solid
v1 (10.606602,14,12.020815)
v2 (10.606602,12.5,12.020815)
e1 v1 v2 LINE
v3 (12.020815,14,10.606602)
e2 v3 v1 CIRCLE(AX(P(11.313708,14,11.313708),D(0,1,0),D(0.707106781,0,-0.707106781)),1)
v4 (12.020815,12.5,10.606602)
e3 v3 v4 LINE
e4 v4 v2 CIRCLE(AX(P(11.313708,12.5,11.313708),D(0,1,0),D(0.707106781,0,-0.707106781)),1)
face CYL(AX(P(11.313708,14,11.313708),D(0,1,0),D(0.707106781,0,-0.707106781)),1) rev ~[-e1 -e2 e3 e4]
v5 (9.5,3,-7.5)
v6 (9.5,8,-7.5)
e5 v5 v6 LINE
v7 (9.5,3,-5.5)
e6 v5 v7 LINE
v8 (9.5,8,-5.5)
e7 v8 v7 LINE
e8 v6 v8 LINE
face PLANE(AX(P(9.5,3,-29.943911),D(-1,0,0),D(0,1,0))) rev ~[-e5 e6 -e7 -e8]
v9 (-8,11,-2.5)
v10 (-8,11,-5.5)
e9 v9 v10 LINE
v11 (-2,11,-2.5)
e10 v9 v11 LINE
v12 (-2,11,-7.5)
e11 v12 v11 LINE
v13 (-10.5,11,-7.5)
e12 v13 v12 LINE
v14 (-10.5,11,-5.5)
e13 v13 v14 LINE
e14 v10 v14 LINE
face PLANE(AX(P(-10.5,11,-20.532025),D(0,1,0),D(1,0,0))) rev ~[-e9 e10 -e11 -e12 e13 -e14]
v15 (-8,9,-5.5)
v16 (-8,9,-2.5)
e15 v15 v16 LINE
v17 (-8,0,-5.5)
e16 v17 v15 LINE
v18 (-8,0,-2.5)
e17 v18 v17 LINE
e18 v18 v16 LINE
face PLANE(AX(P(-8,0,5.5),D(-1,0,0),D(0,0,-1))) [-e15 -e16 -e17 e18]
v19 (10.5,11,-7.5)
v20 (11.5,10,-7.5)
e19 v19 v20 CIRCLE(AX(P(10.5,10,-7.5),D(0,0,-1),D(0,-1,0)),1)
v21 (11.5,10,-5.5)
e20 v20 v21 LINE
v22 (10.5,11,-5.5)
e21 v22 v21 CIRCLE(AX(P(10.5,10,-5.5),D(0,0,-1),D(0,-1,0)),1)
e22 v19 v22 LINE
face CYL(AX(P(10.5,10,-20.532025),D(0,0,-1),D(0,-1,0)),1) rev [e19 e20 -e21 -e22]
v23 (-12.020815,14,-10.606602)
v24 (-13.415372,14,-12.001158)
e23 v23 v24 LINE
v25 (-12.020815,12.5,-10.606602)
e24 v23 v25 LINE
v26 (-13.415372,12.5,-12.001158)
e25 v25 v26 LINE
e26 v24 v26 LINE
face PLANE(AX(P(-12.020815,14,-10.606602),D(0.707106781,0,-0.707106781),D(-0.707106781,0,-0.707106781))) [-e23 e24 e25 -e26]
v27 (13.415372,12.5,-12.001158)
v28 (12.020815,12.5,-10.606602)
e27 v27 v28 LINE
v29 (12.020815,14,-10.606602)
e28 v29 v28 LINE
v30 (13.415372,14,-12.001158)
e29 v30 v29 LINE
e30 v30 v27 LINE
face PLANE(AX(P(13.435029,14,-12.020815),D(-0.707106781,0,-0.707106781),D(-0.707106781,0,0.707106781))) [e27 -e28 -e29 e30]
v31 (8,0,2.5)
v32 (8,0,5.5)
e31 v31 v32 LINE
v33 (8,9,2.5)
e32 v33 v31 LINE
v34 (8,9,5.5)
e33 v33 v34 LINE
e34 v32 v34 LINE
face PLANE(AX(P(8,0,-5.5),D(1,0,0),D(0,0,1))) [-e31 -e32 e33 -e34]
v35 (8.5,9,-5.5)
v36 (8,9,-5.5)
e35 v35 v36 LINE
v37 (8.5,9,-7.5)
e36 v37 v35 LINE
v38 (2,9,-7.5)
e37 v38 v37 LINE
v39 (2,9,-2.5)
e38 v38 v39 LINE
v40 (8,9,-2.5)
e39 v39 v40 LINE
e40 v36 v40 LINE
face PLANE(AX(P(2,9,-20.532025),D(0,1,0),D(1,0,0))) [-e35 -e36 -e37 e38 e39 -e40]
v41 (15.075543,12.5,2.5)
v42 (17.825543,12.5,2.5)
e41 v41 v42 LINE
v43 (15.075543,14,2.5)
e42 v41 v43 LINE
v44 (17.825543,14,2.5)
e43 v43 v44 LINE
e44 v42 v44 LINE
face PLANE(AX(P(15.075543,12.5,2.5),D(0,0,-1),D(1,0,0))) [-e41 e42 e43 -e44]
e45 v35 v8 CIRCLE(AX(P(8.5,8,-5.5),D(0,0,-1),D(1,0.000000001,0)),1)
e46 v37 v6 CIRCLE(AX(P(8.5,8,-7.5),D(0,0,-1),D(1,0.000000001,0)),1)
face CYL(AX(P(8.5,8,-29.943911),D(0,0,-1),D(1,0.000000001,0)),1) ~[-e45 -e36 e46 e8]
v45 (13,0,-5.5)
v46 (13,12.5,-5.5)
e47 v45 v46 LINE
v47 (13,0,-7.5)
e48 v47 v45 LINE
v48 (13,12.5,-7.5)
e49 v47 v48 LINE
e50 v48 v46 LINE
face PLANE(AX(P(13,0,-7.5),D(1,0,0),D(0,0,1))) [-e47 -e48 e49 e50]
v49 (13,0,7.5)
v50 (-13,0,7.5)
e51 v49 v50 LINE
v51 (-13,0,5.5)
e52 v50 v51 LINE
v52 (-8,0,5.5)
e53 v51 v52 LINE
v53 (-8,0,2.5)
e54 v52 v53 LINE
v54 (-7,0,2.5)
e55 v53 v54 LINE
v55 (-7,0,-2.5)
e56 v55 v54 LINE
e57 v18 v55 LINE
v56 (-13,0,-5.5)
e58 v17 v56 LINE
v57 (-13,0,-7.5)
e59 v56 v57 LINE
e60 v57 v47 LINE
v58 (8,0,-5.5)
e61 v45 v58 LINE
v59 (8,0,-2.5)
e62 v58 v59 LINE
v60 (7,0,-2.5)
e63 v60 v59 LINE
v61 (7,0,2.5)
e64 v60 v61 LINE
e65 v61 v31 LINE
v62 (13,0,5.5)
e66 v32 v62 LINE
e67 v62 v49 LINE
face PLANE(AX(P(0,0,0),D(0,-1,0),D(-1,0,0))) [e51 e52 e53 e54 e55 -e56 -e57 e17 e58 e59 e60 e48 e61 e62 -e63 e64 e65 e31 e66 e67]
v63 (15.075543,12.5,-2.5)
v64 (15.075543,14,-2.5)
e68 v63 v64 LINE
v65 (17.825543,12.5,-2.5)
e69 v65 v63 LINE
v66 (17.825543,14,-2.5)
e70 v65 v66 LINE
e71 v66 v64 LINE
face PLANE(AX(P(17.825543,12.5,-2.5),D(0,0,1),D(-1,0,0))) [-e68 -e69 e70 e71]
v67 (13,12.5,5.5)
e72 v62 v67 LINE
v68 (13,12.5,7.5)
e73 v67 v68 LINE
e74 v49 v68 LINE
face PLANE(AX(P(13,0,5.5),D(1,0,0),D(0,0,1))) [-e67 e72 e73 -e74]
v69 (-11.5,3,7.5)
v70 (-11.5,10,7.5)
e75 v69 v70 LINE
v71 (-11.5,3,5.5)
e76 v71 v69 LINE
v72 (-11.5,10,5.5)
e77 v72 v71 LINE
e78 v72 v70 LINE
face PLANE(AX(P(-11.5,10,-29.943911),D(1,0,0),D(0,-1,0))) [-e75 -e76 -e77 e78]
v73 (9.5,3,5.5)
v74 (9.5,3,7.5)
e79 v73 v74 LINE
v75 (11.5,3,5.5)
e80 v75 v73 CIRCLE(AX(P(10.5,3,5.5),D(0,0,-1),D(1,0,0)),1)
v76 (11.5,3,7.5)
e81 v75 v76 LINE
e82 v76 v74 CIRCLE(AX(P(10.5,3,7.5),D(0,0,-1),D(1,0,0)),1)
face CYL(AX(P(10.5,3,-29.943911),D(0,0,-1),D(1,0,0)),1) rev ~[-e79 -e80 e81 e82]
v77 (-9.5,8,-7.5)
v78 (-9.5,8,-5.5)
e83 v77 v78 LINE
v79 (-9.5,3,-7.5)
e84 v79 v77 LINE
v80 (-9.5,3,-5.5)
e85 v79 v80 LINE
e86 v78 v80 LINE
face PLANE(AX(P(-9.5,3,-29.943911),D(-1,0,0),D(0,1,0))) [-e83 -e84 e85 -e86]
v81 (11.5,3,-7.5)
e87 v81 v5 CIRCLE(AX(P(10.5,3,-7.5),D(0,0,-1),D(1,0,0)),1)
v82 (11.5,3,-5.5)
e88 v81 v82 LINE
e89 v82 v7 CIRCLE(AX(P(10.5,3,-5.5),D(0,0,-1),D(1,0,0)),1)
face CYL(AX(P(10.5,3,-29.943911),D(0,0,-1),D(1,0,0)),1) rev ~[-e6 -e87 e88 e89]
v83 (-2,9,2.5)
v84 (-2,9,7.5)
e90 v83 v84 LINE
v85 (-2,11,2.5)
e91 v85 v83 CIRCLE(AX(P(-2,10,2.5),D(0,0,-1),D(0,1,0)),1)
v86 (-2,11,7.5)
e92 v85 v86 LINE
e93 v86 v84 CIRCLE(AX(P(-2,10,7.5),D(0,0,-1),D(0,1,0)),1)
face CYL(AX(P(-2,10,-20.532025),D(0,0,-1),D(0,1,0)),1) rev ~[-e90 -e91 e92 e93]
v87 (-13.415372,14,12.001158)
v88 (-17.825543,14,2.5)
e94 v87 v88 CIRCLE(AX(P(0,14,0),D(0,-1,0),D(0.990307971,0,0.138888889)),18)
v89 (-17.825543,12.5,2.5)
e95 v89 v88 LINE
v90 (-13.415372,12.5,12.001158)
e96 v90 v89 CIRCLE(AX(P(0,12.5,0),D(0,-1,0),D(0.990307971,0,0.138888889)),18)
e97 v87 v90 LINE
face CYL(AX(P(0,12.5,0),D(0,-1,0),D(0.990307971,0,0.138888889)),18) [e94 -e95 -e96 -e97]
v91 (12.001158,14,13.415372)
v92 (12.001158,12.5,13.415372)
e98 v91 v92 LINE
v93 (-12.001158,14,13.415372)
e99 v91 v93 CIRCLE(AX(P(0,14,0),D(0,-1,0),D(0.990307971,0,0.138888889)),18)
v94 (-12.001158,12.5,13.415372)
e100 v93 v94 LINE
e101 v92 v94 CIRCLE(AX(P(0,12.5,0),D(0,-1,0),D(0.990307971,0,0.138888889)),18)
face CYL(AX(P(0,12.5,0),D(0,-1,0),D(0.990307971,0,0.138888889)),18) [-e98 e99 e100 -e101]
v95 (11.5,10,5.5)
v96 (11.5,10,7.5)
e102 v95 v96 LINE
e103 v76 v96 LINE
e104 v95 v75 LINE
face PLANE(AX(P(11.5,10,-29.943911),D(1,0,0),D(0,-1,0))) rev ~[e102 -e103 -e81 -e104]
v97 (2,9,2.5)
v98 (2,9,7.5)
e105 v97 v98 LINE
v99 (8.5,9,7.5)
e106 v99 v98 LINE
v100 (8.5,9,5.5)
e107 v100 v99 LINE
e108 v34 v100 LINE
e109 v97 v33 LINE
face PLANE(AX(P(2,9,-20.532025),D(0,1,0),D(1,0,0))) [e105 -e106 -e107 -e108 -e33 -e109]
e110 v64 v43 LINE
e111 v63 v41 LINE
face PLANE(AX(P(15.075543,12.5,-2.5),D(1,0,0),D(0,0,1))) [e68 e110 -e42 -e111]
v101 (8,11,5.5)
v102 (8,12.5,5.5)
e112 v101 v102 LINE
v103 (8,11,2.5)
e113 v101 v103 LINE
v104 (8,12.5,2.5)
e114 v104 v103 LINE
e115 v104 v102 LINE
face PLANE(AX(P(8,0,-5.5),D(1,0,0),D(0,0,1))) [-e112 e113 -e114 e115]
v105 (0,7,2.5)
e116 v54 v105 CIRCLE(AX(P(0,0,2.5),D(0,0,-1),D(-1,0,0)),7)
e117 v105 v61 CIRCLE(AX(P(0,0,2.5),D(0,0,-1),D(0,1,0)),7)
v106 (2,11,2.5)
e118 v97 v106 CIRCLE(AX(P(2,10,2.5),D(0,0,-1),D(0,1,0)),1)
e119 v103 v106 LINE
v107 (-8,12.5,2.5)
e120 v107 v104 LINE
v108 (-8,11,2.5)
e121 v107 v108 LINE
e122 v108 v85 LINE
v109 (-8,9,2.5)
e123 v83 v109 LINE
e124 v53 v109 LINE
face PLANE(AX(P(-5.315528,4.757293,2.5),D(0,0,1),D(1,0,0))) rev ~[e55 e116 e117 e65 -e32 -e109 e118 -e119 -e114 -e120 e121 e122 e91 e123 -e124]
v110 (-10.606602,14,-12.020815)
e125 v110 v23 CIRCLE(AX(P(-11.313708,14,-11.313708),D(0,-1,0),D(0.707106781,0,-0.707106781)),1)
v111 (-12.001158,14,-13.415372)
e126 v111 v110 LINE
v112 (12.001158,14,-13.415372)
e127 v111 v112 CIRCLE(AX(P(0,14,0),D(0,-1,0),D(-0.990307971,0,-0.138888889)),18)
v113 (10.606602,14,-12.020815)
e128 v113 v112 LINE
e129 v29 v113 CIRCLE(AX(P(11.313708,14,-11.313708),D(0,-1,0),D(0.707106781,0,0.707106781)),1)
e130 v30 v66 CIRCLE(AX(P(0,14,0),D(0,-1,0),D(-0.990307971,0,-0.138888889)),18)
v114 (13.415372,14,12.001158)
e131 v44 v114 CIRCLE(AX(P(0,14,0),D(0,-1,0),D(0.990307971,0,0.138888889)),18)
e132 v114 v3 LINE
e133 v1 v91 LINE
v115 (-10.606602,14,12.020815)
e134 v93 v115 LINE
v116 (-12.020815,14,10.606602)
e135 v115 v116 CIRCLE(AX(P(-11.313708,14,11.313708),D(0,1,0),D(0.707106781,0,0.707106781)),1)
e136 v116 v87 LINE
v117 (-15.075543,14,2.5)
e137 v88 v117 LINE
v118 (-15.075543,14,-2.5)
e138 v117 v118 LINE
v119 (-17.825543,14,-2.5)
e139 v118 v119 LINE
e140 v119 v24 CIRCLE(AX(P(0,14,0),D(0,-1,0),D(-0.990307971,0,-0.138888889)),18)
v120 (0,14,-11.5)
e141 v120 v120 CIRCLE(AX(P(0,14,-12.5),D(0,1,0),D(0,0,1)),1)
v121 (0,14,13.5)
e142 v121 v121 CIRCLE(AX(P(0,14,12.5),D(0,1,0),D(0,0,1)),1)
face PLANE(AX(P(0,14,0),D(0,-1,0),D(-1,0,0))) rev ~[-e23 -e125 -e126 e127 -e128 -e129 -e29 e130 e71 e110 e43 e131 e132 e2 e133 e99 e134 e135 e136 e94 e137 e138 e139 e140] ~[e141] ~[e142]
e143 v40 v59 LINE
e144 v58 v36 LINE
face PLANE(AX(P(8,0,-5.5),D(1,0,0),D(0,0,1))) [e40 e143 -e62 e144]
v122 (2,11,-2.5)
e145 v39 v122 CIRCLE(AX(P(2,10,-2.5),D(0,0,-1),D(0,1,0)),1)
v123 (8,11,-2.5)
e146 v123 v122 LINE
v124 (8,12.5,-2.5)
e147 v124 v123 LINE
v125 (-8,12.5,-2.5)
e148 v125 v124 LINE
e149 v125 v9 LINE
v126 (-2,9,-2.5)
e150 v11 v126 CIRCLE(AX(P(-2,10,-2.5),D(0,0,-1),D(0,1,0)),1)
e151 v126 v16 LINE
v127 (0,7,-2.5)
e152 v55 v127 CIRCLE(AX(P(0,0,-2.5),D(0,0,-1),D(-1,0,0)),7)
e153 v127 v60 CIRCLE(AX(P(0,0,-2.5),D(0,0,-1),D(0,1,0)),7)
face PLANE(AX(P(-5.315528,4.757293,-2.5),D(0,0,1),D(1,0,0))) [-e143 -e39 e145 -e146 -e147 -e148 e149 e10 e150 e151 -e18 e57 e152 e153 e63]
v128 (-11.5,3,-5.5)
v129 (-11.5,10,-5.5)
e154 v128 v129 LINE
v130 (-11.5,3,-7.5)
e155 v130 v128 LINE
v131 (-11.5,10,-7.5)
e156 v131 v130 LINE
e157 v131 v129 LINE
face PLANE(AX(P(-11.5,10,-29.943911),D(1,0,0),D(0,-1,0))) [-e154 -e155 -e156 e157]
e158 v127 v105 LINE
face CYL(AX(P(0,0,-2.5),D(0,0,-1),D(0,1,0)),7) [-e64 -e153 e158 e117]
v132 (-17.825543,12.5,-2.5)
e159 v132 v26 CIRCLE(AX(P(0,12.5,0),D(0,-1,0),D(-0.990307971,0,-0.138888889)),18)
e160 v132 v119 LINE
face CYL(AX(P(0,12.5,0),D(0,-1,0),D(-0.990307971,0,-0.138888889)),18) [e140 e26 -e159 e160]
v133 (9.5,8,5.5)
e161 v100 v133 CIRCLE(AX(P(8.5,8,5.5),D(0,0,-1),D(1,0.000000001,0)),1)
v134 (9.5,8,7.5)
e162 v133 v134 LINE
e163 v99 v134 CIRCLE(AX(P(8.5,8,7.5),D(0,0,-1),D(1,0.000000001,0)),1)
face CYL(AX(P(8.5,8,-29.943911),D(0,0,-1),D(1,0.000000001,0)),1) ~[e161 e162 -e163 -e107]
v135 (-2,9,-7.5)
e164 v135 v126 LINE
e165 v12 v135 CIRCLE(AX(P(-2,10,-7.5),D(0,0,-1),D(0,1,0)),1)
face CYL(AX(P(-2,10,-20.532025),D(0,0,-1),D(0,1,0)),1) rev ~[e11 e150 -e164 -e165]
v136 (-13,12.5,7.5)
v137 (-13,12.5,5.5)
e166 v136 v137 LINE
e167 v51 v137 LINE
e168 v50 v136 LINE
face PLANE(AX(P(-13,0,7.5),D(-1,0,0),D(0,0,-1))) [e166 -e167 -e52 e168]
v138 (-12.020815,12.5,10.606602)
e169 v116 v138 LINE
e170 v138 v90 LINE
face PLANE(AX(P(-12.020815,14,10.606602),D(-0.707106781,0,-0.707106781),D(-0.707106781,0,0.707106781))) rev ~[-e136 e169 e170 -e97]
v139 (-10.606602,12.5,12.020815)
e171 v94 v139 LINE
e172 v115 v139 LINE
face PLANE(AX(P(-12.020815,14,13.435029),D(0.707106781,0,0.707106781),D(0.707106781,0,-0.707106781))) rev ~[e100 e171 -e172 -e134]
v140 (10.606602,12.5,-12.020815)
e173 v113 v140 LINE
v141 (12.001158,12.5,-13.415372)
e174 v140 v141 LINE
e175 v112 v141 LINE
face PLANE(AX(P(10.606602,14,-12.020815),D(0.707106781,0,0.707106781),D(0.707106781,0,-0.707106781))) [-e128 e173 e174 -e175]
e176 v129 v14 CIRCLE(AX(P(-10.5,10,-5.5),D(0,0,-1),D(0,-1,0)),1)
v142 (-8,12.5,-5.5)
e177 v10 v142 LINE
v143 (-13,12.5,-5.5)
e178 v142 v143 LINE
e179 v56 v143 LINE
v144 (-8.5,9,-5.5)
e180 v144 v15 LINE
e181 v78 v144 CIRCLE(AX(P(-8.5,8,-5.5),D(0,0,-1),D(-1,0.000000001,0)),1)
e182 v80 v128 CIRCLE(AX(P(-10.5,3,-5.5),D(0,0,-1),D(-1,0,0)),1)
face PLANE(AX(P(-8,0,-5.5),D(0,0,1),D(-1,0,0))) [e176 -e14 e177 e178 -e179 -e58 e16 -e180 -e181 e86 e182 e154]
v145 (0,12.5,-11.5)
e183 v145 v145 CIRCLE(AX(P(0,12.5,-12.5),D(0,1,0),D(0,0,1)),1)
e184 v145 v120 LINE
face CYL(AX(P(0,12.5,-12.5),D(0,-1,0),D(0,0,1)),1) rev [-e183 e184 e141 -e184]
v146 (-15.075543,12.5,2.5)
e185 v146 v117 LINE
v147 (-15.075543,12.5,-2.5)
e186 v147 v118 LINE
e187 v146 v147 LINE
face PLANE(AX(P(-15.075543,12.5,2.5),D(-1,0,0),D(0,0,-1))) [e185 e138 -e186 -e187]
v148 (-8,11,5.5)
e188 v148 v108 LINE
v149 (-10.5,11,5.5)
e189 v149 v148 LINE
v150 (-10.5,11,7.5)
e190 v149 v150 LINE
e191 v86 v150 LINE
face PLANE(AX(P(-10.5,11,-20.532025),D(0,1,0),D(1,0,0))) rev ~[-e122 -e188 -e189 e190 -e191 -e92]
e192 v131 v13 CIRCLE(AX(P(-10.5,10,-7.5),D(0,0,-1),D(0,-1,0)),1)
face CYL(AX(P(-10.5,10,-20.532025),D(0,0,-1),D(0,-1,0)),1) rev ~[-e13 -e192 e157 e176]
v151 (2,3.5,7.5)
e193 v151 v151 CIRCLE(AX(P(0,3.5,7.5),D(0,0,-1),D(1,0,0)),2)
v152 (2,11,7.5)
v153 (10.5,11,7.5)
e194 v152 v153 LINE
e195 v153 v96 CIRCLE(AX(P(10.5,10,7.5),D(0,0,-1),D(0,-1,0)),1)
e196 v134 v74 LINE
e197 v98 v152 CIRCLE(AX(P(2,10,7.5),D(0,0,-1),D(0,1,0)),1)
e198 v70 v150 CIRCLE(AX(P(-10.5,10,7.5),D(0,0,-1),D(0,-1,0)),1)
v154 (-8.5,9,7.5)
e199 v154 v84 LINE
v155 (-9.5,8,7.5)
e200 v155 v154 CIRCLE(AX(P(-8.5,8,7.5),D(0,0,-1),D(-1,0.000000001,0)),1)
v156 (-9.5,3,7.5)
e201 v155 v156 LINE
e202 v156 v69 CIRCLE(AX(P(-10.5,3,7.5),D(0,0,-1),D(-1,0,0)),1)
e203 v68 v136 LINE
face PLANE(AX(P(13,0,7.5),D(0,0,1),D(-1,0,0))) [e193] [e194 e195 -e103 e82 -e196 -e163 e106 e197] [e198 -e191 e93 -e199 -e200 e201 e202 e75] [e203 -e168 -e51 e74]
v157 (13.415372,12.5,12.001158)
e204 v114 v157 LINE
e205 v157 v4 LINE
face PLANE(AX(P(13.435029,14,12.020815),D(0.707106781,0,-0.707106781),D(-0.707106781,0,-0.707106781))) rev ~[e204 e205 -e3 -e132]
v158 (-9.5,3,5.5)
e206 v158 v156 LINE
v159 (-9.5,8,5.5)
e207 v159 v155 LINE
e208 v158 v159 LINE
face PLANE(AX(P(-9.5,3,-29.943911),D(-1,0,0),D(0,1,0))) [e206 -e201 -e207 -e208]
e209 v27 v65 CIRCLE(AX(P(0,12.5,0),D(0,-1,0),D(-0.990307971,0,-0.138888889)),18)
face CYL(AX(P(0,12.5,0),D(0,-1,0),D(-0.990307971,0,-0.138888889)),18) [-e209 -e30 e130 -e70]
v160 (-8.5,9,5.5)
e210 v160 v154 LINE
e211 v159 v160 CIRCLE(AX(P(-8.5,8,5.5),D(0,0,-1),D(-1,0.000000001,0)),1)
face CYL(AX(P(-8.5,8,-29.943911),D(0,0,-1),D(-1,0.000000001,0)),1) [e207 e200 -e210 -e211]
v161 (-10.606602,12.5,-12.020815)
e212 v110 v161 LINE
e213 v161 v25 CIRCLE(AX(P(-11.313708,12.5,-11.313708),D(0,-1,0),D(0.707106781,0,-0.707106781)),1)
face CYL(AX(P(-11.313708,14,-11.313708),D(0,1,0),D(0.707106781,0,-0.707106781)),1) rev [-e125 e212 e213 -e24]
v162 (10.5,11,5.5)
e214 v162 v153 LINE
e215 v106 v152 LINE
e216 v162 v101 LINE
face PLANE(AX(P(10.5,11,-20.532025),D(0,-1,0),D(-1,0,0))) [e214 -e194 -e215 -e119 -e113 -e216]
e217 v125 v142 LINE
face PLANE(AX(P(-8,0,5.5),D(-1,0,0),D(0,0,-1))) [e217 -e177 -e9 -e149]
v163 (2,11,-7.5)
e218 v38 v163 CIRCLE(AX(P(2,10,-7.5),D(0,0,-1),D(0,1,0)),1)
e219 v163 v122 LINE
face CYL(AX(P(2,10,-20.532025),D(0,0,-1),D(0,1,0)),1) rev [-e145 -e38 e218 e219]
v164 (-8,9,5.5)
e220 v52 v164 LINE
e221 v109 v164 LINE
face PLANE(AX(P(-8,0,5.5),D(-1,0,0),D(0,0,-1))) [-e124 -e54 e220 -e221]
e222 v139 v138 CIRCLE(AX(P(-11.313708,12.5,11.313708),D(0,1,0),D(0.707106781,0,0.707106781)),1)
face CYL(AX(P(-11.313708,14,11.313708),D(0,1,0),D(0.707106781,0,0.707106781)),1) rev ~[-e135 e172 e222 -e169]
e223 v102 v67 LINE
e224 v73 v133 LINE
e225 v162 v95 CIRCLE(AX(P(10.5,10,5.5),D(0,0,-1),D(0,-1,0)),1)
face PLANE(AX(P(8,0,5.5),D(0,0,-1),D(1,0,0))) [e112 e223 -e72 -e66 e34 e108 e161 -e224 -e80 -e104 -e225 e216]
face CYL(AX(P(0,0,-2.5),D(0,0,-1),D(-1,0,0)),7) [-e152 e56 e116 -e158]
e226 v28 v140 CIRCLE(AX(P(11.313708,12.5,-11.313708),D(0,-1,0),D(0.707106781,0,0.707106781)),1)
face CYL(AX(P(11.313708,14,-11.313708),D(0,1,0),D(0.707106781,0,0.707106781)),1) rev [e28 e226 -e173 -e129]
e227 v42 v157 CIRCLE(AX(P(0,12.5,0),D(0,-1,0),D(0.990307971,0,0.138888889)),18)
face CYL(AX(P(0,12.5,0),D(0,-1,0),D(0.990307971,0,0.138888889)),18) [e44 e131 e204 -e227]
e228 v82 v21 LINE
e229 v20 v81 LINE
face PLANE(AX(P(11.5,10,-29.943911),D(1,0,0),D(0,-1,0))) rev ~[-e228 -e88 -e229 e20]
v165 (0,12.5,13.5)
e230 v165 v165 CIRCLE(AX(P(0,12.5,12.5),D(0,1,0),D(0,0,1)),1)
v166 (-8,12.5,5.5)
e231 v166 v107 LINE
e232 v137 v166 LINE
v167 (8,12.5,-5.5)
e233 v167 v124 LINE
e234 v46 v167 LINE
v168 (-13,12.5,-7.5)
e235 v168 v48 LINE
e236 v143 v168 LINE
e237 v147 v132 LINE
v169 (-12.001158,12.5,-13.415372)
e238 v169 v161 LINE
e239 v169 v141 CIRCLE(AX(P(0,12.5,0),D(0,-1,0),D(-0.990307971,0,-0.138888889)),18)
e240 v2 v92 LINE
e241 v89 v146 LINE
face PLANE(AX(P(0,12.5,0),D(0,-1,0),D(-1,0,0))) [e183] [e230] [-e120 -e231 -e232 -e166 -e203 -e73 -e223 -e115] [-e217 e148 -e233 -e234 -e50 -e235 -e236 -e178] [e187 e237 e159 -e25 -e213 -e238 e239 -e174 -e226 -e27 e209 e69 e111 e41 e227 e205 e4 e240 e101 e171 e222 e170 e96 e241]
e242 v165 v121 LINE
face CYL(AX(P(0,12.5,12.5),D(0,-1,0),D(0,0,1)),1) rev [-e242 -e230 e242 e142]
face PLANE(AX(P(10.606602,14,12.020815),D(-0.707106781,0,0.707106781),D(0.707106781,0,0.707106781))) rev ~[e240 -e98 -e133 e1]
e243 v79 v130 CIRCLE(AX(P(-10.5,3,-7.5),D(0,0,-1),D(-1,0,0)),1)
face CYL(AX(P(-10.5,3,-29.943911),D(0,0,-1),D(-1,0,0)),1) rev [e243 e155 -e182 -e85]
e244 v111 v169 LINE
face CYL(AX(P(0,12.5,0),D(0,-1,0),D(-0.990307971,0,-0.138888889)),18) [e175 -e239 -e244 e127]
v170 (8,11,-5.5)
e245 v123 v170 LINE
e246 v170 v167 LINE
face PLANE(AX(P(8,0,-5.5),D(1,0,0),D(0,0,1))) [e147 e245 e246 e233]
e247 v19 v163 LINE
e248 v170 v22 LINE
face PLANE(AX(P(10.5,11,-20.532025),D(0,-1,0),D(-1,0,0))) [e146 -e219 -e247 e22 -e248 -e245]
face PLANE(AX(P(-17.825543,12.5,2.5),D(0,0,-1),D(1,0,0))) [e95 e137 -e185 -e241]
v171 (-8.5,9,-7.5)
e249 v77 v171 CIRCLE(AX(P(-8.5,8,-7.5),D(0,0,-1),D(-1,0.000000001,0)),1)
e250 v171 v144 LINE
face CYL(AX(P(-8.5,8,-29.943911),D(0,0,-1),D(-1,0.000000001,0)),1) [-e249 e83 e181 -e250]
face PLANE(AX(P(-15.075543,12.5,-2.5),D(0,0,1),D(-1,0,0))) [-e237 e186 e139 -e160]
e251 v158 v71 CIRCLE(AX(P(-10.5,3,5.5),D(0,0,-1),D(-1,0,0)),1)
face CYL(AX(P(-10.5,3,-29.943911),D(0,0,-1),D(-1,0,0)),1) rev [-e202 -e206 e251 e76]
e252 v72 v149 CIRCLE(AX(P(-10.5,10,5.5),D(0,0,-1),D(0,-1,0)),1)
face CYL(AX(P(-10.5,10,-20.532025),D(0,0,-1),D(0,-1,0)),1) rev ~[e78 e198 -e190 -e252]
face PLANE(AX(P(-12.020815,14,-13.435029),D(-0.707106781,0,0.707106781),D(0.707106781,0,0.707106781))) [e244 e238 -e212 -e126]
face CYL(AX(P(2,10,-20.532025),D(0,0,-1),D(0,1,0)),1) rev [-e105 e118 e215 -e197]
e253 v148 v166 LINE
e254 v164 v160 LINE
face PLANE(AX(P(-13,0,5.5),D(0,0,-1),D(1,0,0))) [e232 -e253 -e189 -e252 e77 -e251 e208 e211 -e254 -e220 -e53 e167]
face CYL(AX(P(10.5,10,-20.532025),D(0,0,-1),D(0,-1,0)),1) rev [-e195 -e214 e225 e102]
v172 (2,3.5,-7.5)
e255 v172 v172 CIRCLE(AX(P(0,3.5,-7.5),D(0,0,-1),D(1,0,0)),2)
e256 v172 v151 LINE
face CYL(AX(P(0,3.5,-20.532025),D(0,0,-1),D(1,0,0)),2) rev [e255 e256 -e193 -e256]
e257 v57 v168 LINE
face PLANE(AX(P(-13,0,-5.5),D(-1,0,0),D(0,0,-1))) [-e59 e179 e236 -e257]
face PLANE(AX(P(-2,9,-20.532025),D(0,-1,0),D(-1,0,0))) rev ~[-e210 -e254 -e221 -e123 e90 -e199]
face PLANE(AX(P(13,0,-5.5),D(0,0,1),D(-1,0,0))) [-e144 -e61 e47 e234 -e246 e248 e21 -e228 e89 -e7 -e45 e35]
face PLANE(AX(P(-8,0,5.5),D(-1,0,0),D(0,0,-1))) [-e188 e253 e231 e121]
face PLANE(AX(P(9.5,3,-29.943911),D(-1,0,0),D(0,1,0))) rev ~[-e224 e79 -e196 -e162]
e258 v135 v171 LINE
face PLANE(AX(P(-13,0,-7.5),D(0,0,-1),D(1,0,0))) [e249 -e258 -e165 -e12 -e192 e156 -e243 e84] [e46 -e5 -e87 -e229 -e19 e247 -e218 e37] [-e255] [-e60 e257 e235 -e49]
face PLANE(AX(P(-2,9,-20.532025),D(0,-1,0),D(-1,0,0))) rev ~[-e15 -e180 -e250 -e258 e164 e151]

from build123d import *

# Parameters (mm, degrees)
EXTRUDE_1_DEPTH           = 12.5
CUT_EXTRUDE_1_DEPTH       = 20.532024985
CUT_EXTRUDE_1_DEPTH_BACK  = 20.532024985
SKETCH_2_R                = 2
CUT_EXTRUDE_2_DEPTH       = 20.532024985
CUT_EXTRUDE_2_DEPTH_BACK  = 20.532024985
CUT_EXTRUDE_START         = 12.5
SKETCH_5_W                = 16
SKETCH_5_H                = 5
CUT_EXTRUDE_4_DEPTH       = 5.5
CUT_EXTRUDE_5_DEPTH       = 2.5
CUT_EXTRUDE_5_DEPTH_BACK  = 2.5
EXTRUDE_START             = 12.5
EXTRUDE_5_DEPTH           = 1.5
SKETCH_8_R                = 1
CUT_EXTRUDE_6_DEPTH       = 1.5
CUT_EXTRUDE_START_2       = 14
CUT_EXTRUDE_7_DEPTH       = 1.5
CUT_EXTRUDE_9_DEPTH       = 29.943911277
CUT_EXTRUDE_9_DEPTH_BACK  = 29.943911277
CUT_EXTRUDE_10_DEPTH      = 29.943911277
CUT_EXTRUDE_10_DEPTH_BACK = 29.943911277


with BuildPart() as part:
    # 草图1 → 凸台-拉伸1 (new body)
    with BuildSketch(Plane(origin=(0, 0, 0), x_dir=(1, 0, 0), z_dir=(0, 1, 0))):
        Polygon((13, 5.5), (8, 5.5), (8, -5.5), (13, -5.5), (13, -7.5), (-13, -7.5), (-13, -5.5), (-8, -5.5), (-8, 5.5), (-13, 5.5), (-13, 7.5), (13, 7.5), align=None)
    extrude(amount=EXTRUDE_1_DEPTH)

    # 草图2 → 切除-拉伸1 (cut, two sides: drawn at the far end of the back side and taken through both)
    with BuildSketch(Plane.XY.offset(-CUT_EXTRUDE_1_DEPTH_BACK)):
        with Locations((0, 3.5)):
            Circle(SKETCH_2_R)
    extrude(amount=CUT_EXTRUDE_1_DEPTH + CUT_EXTRUDE_1_DEPTH_BACK, mode=Mode.SUBTRACT)

    # 草图3 → 切除-拉伸2 (cut, two sides: drawn at the far end of the back side and taken through both)
    with BuildSketch(Plane.XY.offset(-CUT_EXTRUDE_2_DEPTH_BACK)):
        with BuildLine():
            Line((-10.5, 11), (-2, 11))
            ThreePointArc((-2, 11), (-1, 10), (-2, 9))
            Line((-2, 9), (-10.5, 9))
            ThreePointArc((-10.5, 9), (-11.5, 10), (-10.5, 11))
        make_face()
        with BuildLine():
            Line((2, 9), (10.5, 9))
            ThreePointArc((10.5, 9), (11.5, 10), (10.5, 11))
            Line((10.5, 11), (2, 11))
            ThreePointArc((2, 11), (1, 10), (2, 9))
        make_face()
    extrude(amount=CUT_EXTRUDE_2_DEPTH + CUT_EXTRUDE_2_DEPTH_BACK, mode=Mode.SUBTRACT)

    # 草图5 → 切除-拉伸4 (cut)
    with BuildSketch(Plane(origin=(0, 0, 0), x_dir=(1, 0, 0), z_dir=(0, 1, 0)).offset(CUT_EXTRUDE_START)):
        Rectangle(SKETCH_5_W, SKETCH_5_H)
    extrude(amount=-CUT_EXTRUDE_4_DEPTH, mode=Mode.SUBTRACT)

    # 草图6 → 切除-拉伸5 (cut, two sides: drawn at the far end of the back side and taken through both)
    with BuildSketch(Plane.XY.offset(-CUT_EXTRUDE_5_DEPTH_BACK)):
        with BuildLine():
            Line((8, 7), (0, 7))
            ThreePointArc((0, 7), (4.949747468, 4.949747468), (7, 0))
            Line((7, 0), (8, 0))
            Line((8, 0), (8, 7))
        make_face()
        with BuildLine():
            Line((-8, 7), (-8, 0))
            Line((-8, 0), (-7, 0))
            ThreePointArc((-7, 0), (-4.949747468, 4.949747468), (0, 7))
            Line((0, 7), (-8, 7))
        make_face()
    extrude(amount=CUT_EXTRUDE_5_DEPTH + CUT_EXTRUDE_5_DEPTH_BACK, mode=Mode.SUBTRACT)

    # 草图7 → 凸台-拉伸5 (add)
    with BuildSketch(Plane(origin=(0, 0, 0), x_dir=(1, 0, 0), z_dir=(0, 1, 0)).offset(EXTRUDE_START)):
        with BuildLine():
            Line((17.82554347, 2.5), (15.07554347, 2.5))
            Line((15.07554347, 2.5), (15.07554347, -2.5))
            Line((15.07554347, -2.5), (17.82554347, -2.5))
            ThreePointArc((17.82554347, -2.5), (0, -18), (-17.82554347, -2.5))
            Line((-17.82554347, -2.5), (-15.07554347, -2.5))
            Line((-15.07554347, -2.5), (-15.07554347, 2.5))
            Line((-15.07554347, 2.5), (-17.82554347, 2.5))
            ThreePointArc((-17.82554347, 2.5), (0, 18), (17.82554347, 2.5))
        make_face()
    extrude(amount=EXTRUDE_5_DEPTH)

    # 草图8 → 切除-拉伸6 (cut)
    with BuildSketch(Plane(origin=(0, 0, 0), x_dir=(1, 0, 0), z_dir=(0, 1, 0)).offset(CUT_EXTRUDE_START)):
        with Locations(Location((0, 12.5, 0), (0, 0, 270))):
            Circle(SKETCH_8_R)
        with Locations(Location((0, -12.5, 0), (0, 0, 270))):
            Circle(SKETCH_8_R)
    extrude(amount=CUT_EXTRUDE_6_DEPTH, mode=Mode.SUBTRACT)

    # 草图9 → 切除-拉伸7 (cut)
    with BuildSketch(Plane(origin=(0, 0, 0), x_dir=(1, 0, 0), z_dir=(0, 1, 0)).offset(CUT_EXTRUDE_START_2)):
        with BuildLine():
            Line((-12.02081528, 10.606601718), (-13.435028843, 12.02081528))
            ThreePointArc((-13.435028843, 12.02081528), (-13.435028843, 13.435028843), (-12.02081528, 13.435028843))
            Line((-12.02081528, 13.435028843), (-10.606601718, 12.02081528))
            ThreePointArc((-10.606601718, 12.02081528), (-10.606601718, 10.606601718), (-12.02081528, 10.606601718))
        make_face()
        with BuildLine():
            Line((10.606601718, -12.02081528), (12.02081528, -13.435028843))
            ThreePointArc((12.02081528, -13.435028843), (13.435028843, -13.435028843), (13.435028843, -12.02081528))
            Line((13.435028843, -12.02081528), (12.02081528, -10.606601718))
            ThreePointArc((12.02081528, -10.606601718), (10.606601718, -10.606601718), (10.606601718, -12.02081528))
        make_face()
        with BuildLine():
            Line((-12.02081528, -10.606601718), (-13.435028843, -12.02081528))
            ThreePointArc((-13.435028843, -12.02081528), (-13.435028843, -13.435028843), (-12.02081528, -13.435028843))
            Line((-12.02081528, -13.435028843), (-10.606601718, -12.02081528))
            ThreePointArc((-10.606601718, -12.02081528), (-10.606601718, -10.606601718), (-12.02081528, -10.606601718))
        make_face()
        with BuildLine():
            Line((10.606601718, 12.02081528), (12.02081528, 13.435028843))
            ThreePointArc((12.02081528, 13.435028843), (13.435028843, 13.435028843), (13.435028843, 12.02081528))
            Line((13.435028843, 12.02081528), (12.02081528, 10.606601718))
            ThreePointArc((12.02081528, 10.606601718), (10.606601718, 10.606601718), (10.606601718, 12.02081528))
        make_face()
    extrude(amount=-CUT_EXTRUDE_7_DEPTH, mode=Mode.SUBTRACT)

    # 草图10 → 切除-拉伸9 (cut, two sides: drawn at the far end of the back side and taken through both)
    with BuildSketch(Plane.XY.offset(-CUT_EXTRUDE_9_DEPTH_BACK)):
        with BuildLine():
            Line((-11.5, 10), (-11.5, 3))
            ThreePointArc((-11.5, 3), (-10.5, 2), (-9.5, 3))
            Line((-9.5, 3), (-9.5, 10))
            ThreePointArc((-9.5, 10), (-10.5, 11), (-11.5, 10))
        make_face()
        with BuildLine():
            Line((11.5, 10), (11.5, 3))
            ThreePointArc((11.5, 3), (10.5, 2), (9.5, 3))
            Line((9.5, 3), (9.5, 10))
            ThreePointArc((9.5, 10), (10.5, 11), (11.5, 10))
        make_face()
    extrude(amount=CUT_EXTRUDE_9_DEPTH + CUT_EXTRUDE_9_DEPTH_BACK, mode=Mode.SUBTRACT)

    # 草图11 → 切除-拉伸10 (cut, two sides: drawn at the far end of the back side and taken through both)
    with BuildSketch(Plane.XY.offset(-CUT_EXTRUDE_10_DEPTH_BACK)):
        with BuildLine():
            Line((8.5, 9), (9.5, 9))
            Line((9.5, 9), (9.5, 8))
            ThreePointArc((9.5, 8), (9.207106781, 8.707106781), (8.5, 9))
        make_face()
        with BuildLine():
            Line((-9.5, 9), (-9.5, 8))
            ThreePointArc((-9.5, 8), (-9.207106781, 8.707106781), (-8.5, 9))
            Line((-8.5, 9), (-9.5, 9))
        make_face()
    extrude(amount=CUT_EXTRUDE_10_DEPTH + CUT_EXTRUDE_10_DEPTH_BACK, mode=Mode.SUBTRACT)


solid = part.part
